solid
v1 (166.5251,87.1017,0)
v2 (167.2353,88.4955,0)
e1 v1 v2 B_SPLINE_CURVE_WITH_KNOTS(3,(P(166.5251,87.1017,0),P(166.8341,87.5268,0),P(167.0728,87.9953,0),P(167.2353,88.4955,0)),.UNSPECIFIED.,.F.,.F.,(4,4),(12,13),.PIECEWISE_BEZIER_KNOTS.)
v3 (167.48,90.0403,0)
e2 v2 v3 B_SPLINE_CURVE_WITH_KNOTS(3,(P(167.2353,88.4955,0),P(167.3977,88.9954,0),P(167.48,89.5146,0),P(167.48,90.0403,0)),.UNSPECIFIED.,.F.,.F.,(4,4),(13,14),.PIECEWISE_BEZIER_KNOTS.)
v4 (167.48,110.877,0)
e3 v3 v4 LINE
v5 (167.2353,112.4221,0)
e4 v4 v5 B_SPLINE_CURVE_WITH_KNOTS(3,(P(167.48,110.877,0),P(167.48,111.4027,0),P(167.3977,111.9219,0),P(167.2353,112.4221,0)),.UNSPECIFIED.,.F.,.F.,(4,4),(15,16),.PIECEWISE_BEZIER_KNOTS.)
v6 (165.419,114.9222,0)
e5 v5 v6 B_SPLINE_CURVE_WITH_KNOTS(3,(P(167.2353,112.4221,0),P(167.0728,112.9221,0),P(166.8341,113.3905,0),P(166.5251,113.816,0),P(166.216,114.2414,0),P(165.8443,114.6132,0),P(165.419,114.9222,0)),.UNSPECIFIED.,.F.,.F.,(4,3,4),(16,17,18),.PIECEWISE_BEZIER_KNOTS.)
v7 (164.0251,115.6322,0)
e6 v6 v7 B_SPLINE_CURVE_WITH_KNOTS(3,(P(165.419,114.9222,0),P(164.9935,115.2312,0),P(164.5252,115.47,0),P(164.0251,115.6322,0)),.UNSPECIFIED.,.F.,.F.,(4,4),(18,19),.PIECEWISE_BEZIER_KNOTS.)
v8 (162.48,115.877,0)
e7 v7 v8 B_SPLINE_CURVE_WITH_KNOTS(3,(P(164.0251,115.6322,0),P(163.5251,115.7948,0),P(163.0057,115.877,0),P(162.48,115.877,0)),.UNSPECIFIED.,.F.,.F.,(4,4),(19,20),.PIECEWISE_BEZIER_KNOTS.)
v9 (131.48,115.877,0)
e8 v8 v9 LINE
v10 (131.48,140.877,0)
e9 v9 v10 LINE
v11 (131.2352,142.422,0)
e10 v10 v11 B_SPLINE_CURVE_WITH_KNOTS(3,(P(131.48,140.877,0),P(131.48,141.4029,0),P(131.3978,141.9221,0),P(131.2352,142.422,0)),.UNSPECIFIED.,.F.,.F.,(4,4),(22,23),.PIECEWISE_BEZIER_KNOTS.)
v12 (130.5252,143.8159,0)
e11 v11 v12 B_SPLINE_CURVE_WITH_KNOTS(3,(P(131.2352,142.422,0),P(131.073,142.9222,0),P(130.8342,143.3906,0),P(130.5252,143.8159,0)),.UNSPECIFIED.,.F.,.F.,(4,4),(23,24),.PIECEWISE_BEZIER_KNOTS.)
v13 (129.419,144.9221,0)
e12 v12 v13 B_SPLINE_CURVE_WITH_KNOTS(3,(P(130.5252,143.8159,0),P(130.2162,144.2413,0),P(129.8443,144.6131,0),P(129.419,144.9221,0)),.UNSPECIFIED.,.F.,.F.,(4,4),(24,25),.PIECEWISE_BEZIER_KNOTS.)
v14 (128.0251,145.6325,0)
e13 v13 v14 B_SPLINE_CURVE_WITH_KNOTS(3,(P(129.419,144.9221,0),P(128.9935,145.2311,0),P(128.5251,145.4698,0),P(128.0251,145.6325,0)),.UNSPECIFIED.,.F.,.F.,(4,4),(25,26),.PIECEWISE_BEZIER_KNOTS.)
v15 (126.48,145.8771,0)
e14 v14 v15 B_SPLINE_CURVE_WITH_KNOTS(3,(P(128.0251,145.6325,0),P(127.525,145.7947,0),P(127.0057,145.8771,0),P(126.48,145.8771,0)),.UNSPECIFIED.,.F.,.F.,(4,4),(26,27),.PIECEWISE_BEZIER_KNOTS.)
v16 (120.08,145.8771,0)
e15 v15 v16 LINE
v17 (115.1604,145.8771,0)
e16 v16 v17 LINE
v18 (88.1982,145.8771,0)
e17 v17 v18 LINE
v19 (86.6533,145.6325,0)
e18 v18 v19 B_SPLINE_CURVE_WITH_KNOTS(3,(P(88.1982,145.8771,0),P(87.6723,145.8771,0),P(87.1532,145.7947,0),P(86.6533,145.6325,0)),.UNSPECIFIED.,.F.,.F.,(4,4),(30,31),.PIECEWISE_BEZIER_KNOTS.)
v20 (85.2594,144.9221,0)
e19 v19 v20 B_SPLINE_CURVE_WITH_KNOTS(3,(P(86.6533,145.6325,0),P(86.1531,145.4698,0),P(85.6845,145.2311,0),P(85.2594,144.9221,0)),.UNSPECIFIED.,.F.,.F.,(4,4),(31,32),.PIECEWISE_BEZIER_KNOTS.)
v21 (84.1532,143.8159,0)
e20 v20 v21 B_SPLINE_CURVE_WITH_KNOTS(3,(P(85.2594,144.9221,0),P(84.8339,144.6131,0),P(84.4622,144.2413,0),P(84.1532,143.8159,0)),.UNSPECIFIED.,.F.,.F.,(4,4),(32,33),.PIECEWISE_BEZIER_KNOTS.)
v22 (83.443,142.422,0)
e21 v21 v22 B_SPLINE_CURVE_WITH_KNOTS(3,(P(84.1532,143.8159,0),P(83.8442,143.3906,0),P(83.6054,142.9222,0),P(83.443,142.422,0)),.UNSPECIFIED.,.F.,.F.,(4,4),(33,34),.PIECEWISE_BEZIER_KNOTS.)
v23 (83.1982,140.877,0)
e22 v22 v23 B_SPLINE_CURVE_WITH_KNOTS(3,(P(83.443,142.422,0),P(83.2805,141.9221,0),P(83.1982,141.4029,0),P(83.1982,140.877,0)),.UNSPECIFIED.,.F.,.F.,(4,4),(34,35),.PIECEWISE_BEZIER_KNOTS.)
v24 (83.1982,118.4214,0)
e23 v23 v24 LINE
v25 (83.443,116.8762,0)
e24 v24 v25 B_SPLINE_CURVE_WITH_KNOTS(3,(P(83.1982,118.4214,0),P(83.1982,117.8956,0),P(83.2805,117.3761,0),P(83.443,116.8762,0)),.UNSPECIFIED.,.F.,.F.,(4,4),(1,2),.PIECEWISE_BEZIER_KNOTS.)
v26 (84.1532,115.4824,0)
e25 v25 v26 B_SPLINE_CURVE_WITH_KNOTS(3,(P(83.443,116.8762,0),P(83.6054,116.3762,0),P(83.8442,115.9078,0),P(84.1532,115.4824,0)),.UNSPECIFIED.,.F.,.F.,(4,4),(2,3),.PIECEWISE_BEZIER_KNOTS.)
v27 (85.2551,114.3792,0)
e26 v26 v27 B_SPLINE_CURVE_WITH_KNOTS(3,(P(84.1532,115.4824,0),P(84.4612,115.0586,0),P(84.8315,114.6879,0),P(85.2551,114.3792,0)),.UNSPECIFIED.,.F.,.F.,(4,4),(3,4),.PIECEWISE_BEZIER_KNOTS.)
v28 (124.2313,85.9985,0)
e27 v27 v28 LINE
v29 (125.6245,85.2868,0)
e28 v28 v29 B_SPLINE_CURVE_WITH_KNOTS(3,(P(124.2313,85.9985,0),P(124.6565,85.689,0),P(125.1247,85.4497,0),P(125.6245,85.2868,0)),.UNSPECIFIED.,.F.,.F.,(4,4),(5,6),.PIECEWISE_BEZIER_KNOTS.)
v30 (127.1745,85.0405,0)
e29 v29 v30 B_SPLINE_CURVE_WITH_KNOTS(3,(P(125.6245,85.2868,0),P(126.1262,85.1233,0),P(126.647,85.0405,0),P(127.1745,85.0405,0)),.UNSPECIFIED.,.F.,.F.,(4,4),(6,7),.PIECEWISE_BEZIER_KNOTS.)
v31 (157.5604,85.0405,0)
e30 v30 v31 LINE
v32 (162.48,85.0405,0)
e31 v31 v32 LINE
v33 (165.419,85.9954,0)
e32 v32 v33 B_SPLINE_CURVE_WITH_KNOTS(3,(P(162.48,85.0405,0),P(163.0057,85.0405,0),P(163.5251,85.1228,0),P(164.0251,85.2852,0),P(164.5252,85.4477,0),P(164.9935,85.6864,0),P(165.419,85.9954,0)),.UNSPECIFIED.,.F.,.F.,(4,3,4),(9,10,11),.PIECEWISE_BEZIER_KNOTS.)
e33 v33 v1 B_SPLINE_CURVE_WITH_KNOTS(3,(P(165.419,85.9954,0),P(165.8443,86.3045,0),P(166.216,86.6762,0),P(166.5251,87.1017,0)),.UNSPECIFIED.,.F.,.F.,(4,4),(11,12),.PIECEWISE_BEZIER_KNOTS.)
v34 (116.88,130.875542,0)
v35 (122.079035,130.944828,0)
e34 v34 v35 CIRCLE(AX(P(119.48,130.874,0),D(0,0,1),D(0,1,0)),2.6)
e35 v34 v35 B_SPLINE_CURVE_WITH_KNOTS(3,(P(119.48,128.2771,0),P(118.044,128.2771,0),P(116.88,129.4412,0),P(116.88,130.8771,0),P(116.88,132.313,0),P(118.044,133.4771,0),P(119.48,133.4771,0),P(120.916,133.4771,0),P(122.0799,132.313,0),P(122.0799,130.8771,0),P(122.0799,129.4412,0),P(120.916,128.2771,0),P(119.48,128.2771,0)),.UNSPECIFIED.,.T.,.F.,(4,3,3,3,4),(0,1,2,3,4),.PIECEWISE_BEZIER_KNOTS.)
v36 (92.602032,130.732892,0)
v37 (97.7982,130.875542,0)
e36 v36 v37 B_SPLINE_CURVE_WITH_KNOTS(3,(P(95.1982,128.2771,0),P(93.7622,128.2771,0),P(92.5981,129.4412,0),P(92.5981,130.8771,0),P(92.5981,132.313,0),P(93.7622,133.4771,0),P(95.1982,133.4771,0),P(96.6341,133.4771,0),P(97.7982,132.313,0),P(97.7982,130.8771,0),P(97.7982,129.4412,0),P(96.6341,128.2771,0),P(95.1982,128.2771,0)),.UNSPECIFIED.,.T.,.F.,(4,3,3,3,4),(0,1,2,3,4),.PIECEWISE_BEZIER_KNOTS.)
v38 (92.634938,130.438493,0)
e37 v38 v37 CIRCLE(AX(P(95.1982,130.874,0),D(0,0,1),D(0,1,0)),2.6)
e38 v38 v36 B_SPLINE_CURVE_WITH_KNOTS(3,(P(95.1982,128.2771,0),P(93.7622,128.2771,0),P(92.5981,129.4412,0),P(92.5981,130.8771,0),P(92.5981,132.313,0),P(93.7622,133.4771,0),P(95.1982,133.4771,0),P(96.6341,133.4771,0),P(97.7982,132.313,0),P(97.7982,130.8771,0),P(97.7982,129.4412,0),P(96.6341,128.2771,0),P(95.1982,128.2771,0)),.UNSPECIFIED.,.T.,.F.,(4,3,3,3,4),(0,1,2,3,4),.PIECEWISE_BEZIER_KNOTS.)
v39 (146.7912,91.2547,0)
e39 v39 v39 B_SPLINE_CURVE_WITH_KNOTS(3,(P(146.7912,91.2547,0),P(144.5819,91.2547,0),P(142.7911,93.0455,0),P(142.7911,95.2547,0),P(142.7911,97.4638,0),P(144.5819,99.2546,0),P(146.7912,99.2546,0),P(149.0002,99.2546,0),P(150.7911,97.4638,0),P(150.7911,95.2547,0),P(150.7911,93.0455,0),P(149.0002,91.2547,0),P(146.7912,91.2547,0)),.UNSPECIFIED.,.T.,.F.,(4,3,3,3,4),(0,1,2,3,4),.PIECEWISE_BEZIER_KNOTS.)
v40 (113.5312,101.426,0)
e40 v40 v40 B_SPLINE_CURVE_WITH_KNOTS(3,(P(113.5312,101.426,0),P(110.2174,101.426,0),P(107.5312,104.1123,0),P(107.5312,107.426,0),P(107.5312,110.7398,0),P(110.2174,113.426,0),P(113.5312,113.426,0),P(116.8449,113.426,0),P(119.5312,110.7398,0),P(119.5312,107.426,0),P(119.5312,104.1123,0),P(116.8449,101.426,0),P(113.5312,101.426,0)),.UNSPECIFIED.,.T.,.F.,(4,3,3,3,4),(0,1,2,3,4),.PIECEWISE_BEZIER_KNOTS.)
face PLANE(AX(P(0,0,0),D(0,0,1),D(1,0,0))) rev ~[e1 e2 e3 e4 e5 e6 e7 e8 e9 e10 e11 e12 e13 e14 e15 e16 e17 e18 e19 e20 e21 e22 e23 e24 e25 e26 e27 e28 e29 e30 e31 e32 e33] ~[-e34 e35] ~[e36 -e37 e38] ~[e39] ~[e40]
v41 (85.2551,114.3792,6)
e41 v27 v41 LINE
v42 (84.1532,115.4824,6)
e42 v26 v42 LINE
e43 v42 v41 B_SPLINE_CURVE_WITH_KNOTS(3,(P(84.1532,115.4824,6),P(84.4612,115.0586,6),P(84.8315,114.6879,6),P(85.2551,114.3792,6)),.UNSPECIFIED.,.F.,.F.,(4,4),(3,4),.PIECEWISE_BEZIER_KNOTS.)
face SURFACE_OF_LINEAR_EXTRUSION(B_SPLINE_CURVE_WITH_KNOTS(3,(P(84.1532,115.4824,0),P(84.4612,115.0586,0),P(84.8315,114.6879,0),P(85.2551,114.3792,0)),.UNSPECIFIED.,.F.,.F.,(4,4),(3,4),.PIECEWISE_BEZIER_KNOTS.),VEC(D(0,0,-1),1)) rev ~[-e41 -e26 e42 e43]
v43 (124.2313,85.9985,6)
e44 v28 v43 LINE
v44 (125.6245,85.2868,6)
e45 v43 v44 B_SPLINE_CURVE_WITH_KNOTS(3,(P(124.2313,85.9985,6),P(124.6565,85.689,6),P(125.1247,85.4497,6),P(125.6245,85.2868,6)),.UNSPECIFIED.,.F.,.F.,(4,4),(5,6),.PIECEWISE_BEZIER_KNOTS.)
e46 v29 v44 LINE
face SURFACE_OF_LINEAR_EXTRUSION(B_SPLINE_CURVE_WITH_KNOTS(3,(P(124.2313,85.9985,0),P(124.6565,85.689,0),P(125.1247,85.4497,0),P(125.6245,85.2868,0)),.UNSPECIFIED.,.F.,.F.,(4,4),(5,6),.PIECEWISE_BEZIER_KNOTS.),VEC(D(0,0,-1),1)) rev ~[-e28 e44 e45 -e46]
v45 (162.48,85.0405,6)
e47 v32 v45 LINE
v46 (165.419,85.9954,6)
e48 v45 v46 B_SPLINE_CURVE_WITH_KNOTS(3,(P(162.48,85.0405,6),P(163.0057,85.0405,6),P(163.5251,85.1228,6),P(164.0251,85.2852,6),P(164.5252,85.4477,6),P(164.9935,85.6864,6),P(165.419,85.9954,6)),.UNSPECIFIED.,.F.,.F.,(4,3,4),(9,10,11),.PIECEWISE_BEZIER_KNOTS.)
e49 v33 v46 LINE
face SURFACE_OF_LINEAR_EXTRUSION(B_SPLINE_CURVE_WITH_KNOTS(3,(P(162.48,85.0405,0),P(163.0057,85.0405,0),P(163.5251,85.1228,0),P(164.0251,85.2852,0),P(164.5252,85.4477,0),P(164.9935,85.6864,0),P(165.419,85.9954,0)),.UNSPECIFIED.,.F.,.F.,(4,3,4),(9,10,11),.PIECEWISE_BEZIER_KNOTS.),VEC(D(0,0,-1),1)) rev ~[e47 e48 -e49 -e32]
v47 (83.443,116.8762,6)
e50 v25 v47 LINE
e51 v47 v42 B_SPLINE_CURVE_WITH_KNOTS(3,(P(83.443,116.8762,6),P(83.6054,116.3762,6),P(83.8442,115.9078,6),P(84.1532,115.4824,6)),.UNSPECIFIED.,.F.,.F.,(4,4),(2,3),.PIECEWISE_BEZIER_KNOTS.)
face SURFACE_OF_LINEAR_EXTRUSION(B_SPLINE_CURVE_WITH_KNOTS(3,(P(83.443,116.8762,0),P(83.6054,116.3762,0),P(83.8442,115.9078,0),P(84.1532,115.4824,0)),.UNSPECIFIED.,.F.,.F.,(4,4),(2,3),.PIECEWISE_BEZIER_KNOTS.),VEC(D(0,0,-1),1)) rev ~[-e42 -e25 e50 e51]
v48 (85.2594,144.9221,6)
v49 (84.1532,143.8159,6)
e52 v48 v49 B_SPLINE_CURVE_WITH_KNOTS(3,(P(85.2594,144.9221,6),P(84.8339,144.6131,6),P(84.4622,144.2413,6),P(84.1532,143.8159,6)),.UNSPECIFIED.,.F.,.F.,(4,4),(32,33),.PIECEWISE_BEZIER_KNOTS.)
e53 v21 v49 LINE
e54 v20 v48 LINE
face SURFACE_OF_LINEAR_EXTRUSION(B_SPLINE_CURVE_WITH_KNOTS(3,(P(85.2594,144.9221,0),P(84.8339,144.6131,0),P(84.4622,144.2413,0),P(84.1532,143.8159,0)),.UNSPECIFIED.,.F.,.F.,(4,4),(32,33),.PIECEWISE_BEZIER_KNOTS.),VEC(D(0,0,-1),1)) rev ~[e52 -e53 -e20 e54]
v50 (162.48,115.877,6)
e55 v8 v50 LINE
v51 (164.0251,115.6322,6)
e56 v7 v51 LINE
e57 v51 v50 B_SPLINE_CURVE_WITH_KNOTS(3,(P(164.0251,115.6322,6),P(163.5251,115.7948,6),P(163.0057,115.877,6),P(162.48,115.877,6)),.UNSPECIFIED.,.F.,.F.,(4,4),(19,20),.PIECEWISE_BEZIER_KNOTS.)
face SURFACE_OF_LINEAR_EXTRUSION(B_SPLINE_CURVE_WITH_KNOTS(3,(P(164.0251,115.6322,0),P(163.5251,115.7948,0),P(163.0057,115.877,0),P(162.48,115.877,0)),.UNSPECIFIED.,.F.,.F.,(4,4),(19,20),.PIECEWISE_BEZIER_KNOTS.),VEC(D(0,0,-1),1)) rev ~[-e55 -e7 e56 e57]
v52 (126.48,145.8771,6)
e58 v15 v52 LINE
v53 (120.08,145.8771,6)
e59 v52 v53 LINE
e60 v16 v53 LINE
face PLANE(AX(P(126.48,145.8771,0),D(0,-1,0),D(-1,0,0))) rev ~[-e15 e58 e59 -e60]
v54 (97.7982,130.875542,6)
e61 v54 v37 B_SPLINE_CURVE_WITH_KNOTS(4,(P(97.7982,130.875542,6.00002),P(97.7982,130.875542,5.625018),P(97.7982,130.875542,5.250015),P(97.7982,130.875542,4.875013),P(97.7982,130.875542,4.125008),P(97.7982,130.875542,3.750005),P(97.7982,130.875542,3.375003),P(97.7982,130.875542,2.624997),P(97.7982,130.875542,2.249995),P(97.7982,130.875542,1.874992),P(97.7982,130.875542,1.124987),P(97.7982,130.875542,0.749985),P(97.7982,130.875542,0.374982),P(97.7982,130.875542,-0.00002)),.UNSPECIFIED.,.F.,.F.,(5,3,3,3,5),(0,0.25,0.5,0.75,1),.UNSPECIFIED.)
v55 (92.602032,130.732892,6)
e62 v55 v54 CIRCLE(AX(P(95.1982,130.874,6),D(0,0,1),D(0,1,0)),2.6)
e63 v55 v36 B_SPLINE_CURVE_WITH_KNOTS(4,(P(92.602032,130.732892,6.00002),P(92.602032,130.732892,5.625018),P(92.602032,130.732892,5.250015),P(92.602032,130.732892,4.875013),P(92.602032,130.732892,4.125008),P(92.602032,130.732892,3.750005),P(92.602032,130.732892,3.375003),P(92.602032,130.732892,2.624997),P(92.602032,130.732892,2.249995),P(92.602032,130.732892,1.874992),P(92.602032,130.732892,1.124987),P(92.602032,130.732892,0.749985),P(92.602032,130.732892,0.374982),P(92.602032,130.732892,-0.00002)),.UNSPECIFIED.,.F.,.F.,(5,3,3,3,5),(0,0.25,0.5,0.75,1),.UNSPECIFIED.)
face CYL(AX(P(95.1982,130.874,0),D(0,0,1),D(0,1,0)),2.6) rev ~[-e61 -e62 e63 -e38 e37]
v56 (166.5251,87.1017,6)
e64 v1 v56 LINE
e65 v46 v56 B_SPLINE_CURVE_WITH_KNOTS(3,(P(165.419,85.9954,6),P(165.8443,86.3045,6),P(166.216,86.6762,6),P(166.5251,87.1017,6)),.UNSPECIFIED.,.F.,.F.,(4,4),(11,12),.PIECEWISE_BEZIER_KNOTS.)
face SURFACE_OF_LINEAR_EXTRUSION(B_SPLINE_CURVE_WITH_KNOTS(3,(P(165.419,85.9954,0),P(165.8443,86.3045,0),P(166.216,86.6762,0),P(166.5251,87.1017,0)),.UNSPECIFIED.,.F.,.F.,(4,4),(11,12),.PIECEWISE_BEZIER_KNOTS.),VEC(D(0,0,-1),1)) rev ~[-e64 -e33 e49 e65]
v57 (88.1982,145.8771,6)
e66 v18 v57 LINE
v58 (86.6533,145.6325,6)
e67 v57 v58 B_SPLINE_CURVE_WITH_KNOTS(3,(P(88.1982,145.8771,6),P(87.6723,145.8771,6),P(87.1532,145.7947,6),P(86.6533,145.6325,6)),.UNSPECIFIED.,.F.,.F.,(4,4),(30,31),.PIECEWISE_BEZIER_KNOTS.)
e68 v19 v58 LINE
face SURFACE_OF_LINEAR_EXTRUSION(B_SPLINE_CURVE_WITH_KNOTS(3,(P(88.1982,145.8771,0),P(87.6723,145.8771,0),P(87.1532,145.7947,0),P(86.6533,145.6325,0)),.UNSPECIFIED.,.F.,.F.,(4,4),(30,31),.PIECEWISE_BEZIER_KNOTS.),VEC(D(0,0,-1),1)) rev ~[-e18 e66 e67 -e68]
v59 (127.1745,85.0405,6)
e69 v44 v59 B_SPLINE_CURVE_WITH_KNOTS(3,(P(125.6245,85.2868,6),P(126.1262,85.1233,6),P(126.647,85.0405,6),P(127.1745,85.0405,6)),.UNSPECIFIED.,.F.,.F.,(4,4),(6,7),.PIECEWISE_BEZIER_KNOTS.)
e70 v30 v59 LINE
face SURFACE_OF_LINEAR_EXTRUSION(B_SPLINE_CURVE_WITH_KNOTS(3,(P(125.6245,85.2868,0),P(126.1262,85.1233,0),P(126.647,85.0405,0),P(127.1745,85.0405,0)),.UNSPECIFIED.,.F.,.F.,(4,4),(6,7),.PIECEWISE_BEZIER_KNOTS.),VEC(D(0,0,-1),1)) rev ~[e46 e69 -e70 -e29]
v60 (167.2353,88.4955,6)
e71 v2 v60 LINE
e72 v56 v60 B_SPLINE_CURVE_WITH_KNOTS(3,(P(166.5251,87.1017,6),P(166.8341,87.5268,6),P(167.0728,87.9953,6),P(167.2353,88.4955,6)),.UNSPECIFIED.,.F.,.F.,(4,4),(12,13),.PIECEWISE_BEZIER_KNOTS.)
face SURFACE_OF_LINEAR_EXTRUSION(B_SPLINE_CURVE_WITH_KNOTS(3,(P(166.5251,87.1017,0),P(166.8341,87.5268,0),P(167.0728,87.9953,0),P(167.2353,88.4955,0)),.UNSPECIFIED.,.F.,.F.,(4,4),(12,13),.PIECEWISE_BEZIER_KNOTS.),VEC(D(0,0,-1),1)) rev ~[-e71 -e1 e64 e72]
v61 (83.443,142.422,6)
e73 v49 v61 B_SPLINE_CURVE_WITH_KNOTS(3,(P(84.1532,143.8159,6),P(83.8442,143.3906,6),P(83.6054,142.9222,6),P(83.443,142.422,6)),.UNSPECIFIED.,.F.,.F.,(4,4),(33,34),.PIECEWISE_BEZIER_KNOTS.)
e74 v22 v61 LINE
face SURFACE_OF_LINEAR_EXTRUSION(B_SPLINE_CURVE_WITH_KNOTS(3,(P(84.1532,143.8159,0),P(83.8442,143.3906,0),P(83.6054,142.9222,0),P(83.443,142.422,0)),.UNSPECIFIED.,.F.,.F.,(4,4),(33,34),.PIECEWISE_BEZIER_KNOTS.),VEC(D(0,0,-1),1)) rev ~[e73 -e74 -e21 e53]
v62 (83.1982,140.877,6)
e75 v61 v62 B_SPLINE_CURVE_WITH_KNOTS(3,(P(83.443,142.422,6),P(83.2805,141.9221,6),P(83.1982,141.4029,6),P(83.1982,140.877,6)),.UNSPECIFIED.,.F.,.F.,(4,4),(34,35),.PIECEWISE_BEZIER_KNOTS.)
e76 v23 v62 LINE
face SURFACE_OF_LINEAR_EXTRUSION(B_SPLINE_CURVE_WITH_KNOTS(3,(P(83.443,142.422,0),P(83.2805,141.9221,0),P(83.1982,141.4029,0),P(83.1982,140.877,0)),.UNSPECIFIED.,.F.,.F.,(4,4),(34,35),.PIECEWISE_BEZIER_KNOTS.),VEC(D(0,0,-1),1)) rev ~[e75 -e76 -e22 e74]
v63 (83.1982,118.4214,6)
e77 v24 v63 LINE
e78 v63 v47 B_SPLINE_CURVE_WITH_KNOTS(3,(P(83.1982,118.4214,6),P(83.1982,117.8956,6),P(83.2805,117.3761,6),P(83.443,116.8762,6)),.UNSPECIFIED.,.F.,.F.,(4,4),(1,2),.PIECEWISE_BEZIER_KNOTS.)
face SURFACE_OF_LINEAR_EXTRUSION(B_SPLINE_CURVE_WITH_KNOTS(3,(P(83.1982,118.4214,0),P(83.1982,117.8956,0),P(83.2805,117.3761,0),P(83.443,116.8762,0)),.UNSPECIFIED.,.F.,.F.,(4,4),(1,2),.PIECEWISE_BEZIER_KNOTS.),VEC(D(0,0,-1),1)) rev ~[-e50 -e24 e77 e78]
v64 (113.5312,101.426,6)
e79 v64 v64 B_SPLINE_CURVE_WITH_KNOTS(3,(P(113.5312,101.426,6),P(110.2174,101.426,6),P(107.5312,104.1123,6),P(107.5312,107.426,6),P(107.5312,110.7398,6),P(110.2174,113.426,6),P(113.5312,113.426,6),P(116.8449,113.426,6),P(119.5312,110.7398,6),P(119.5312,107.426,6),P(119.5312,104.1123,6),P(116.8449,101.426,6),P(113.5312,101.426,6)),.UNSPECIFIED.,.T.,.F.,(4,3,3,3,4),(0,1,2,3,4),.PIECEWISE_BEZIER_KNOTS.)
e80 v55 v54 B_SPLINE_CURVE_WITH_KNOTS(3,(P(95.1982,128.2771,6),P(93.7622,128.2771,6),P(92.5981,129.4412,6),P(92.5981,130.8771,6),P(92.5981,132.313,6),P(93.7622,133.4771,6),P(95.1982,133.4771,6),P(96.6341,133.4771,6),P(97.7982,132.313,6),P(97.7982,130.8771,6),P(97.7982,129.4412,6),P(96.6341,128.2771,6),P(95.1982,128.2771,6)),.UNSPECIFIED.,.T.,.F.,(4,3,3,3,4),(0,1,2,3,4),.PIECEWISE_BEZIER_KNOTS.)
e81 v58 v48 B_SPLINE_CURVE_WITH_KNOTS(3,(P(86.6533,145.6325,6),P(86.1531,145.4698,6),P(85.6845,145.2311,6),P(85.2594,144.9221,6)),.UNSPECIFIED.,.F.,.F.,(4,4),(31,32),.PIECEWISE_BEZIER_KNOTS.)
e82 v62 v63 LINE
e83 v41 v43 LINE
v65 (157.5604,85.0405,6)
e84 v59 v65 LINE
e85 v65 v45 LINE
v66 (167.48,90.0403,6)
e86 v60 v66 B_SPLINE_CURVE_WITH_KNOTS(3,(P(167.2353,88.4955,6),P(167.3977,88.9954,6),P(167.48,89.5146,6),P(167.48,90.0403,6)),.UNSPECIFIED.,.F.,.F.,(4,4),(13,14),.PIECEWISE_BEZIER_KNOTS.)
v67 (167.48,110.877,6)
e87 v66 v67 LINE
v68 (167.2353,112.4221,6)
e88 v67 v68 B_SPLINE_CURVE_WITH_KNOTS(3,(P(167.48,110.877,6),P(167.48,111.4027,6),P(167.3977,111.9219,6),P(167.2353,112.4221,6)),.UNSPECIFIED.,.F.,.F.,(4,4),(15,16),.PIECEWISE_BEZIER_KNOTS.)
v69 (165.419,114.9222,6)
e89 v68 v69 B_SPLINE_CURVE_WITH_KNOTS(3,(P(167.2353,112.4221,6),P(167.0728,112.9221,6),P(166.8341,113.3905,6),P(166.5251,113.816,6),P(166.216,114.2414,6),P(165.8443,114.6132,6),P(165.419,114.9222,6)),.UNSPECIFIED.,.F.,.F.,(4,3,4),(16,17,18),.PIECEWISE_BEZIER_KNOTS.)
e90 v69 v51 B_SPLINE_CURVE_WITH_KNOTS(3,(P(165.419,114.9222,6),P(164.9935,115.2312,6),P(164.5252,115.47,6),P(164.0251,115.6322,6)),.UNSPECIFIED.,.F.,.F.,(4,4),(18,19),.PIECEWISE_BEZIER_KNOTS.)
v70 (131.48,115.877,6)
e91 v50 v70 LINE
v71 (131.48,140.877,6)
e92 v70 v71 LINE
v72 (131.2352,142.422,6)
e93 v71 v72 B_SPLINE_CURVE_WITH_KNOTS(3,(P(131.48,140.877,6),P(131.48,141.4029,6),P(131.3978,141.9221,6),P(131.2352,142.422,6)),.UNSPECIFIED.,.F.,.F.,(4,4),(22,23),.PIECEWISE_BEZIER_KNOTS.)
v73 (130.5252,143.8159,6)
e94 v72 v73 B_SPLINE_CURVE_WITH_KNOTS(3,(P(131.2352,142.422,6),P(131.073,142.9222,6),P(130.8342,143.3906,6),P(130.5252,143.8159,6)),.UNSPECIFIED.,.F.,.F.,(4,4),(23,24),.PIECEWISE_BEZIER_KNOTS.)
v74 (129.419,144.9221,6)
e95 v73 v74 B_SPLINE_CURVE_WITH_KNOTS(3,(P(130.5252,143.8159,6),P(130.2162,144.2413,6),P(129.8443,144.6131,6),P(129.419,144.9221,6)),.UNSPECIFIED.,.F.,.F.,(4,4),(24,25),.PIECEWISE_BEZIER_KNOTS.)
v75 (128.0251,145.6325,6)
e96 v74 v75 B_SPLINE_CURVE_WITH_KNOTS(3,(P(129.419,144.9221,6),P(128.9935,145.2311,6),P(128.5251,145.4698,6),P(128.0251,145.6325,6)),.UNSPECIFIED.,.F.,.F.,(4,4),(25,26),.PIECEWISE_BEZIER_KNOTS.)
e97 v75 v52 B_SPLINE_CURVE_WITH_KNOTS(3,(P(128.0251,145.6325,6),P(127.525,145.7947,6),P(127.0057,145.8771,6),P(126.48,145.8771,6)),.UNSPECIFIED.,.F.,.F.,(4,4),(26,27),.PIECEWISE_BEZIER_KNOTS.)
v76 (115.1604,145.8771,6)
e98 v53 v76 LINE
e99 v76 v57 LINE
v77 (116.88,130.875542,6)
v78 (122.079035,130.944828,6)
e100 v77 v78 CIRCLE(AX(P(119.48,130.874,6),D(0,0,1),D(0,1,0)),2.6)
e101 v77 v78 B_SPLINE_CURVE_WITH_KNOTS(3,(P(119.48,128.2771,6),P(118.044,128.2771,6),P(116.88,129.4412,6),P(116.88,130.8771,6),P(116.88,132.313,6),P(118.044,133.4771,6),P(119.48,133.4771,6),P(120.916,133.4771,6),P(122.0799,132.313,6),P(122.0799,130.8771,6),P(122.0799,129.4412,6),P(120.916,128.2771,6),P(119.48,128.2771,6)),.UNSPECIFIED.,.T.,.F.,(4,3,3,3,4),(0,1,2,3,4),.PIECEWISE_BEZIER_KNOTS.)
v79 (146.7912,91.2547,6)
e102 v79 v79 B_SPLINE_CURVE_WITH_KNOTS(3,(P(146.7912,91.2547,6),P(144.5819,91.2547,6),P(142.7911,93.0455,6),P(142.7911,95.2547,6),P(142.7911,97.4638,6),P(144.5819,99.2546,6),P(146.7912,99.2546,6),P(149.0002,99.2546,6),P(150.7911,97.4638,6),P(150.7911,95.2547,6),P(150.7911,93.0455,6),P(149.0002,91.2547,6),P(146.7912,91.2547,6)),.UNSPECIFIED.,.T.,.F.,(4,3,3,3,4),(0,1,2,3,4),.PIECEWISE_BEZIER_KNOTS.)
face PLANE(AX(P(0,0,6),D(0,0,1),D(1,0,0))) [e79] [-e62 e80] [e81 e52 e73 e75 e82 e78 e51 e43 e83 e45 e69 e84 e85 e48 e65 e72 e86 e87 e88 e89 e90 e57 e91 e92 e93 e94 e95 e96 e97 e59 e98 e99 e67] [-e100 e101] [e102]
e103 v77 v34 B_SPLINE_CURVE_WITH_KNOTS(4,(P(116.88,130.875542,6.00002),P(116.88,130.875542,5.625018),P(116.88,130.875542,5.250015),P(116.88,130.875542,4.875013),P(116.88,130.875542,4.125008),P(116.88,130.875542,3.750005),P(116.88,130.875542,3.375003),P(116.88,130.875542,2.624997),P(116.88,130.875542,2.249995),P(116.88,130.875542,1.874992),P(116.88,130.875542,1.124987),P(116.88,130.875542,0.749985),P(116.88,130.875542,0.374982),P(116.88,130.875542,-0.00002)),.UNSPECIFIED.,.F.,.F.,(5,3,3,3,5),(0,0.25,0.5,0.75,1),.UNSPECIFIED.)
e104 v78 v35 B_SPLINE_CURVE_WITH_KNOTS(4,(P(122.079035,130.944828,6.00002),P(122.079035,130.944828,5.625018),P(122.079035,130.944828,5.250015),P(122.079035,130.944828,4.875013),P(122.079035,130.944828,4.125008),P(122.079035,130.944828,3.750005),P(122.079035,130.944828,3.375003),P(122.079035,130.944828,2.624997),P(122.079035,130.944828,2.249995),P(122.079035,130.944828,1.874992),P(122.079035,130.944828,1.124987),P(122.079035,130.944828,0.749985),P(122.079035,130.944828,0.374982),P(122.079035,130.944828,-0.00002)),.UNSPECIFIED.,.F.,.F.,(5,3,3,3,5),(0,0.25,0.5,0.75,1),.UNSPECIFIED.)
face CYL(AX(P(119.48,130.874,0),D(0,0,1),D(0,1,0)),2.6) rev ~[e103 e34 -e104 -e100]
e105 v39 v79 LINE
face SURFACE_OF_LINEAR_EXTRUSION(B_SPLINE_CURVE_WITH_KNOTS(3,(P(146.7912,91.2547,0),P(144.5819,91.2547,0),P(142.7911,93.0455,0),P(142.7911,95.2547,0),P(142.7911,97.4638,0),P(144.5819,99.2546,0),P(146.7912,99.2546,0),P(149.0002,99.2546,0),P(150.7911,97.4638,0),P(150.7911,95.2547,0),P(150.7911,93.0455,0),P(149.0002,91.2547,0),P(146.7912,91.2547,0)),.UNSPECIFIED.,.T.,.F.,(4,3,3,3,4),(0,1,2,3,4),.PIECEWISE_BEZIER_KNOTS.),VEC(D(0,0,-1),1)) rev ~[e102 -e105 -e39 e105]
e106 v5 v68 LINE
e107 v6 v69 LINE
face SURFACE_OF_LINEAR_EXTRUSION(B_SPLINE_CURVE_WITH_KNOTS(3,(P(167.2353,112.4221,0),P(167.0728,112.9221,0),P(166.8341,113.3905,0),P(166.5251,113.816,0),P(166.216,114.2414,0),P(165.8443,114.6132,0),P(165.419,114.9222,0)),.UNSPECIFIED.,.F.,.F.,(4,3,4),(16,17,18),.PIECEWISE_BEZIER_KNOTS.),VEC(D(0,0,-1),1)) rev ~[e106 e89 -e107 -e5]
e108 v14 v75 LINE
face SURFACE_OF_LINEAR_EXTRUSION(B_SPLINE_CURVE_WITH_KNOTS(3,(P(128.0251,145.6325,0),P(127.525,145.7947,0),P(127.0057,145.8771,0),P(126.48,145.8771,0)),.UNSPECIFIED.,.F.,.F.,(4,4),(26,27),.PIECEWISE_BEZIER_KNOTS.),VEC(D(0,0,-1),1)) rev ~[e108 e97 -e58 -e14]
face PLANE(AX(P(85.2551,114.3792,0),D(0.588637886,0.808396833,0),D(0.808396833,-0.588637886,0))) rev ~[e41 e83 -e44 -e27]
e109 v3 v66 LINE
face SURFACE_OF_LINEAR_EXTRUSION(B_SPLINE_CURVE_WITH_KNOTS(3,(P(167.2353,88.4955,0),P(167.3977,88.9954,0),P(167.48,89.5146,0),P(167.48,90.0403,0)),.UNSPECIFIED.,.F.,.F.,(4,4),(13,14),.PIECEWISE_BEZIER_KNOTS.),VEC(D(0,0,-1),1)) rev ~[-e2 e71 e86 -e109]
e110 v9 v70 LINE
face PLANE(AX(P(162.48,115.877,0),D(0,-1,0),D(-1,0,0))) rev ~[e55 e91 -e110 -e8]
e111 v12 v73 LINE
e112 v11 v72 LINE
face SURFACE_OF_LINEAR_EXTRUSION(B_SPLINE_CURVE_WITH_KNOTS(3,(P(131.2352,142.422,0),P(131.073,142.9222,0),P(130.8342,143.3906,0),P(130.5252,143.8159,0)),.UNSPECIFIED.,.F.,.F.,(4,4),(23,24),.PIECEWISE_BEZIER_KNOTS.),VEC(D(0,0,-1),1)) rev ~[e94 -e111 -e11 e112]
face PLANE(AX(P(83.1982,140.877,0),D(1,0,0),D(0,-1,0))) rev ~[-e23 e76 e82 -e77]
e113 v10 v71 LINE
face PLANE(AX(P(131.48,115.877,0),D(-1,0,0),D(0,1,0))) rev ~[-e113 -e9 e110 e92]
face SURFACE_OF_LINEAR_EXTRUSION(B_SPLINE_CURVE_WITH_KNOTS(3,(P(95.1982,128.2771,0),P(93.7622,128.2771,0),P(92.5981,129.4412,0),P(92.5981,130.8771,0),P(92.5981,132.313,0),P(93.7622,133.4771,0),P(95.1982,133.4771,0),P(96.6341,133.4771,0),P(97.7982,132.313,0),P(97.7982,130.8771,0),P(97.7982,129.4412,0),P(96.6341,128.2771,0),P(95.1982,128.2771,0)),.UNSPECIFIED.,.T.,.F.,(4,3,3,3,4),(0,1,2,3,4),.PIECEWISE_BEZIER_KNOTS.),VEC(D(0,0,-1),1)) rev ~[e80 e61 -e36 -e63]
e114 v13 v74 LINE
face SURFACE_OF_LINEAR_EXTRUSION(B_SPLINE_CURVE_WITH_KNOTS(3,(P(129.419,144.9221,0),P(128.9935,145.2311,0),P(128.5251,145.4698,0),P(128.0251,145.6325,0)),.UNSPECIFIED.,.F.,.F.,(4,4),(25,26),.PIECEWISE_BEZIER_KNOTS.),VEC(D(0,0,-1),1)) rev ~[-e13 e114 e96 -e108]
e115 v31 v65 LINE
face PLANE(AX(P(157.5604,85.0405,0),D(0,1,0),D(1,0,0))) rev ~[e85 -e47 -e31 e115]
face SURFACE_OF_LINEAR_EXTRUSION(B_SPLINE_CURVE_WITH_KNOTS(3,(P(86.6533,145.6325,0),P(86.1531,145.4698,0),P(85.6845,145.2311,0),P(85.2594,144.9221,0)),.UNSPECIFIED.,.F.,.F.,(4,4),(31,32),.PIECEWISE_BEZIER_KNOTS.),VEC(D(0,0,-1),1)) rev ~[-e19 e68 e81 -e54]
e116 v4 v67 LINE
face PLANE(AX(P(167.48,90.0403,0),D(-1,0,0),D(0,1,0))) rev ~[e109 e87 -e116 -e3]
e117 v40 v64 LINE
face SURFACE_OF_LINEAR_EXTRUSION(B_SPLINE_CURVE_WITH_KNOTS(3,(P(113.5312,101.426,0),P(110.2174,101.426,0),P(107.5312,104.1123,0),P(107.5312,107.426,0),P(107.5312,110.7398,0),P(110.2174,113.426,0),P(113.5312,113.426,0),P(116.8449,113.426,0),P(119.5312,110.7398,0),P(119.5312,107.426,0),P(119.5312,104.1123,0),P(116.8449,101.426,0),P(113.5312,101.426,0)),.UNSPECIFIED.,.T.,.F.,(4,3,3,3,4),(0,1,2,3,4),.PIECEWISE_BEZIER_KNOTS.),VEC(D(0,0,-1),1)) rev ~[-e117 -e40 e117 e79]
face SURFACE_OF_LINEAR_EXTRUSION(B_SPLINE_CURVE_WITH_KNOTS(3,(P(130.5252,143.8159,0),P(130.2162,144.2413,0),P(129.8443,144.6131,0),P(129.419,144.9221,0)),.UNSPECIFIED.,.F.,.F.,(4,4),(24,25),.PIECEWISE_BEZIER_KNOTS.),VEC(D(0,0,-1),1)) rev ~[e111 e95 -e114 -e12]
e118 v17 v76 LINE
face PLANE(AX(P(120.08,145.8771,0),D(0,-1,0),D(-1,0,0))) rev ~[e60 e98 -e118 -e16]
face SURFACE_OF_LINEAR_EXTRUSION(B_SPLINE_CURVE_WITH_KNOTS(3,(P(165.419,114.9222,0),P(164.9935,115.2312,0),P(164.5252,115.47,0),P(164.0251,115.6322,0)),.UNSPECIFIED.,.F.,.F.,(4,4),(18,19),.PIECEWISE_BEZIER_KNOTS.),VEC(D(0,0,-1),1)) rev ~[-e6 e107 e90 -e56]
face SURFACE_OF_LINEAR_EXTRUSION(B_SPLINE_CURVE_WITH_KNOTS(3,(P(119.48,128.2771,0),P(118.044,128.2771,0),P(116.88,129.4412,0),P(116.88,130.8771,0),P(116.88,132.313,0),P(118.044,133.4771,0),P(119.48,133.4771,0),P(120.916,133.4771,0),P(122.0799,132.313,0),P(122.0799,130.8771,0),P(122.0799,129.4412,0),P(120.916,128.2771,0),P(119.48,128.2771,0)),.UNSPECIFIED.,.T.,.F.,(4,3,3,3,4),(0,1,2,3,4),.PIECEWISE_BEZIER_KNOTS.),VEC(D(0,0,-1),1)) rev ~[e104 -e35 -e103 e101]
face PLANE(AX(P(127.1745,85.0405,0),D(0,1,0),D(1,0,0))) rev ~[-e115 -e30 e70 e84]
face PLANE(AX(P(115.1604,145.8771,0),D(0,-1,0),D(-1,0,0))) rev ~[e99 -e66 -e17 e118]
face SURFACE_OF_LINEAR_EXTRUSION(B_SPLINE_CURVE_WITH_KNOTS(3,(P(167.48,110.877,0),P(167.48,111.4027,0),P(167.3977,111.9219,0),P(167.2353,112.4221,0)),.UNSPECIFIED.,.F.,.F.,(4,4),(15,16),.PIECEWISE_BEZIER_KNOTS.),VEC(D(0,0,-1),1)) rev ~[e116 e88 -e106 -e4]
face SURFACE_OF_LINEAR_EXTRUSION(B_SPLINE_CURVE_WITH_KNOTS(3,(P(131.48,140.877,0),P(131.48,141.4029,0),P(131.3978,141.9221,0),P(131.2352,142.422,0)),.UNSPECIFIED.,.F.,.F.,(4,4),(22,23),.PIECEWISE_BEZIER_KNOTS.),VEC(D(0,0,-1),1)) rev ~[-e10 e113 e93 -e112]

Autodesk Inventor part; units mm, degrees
ref_plane "YZ Plane" through (0, 0, 0) normal (1, 0, 0) x (0, 1, 0)
ref_plane "XZ Plane" through (0, 0, 0) normal (0, 1, 0) x (-1, 0, 0)
ref_plane "XY Plane" through (0, 0, 0) normal (0, 0, 1) x (1, 0, 0)
sketch "Sketch1" plane through (0, 0, 0) normal (0, 0, 1) x (1, 0, 0)
  line L0 (83.1982, 140.877) -> (83.1982, 118.4214)
  spline S0 degree 3 poles (83.1982, 118.4214) (83.1982, 117.8956) (83.2805, 117.3761) (83.443, 116.8762) knots 1 1 1 1 2 2 2 2
  line L1 (83.1982, 118.4214) -> (83.1982, 117.8956) construction
  line L2 (83.1982, 117.8956) -> (83.2805, 117.3761) construction
  line L3 (83.2805, 117.3761) -> (83.443, 116.8762) construction
  spline S1 degree 3 poles (83.443, 116.8762) (83.6054, 116.3762) (83.8442, 115.9078) (84.1532, 115.4824) knots 2 2 2 2 3 3 3 3
  line L4 (83.443, 116.8762) -> (83.6054, 116.3762) construction
  line L5 (83.6054, 116.3762) -> (83.8442, 115.9078) construction
  line L6 (83.8442, 115.9078) -> (84.1532, 115.4824) construction
  spline S2 degree 3 poles (84.1532, 115.4824) (84.4612, 115.0586) (84.8315, 114.6879) (85.2551, 114.3792) knots 3 3 3 3 4 4 4 4
  line L7 (84.1532, 115.4824) -> (84.4612, 115.0586) construction
  line L8 (84.4612, 115.0586) -> (84.8315, 114.6879) construction
  line L9 (84.8315, 114.6879) -> (85.2551, 114.3792) construction
  line L10 (85.2551, 114.3792) -> (124.2313, 85.9985)
  spline S3 degree 3 poles (124.2313, 85.9985) (124.6565, 85.689) (125.1247, 85.4497) (125.6245, 85.2868) knots 5 5 5 5 6 6 6 6
  line L11 (124.2313, 85.9985) -> (124.6565, 85.689) construction
  line L12 (124.6565, 85.689) -> (125.1247, 85.4497) construction
  line L13 (125.1247, 85.4497) -> (125.6245, 85.2868) construction
  spline S4 degree 3 poles (125.6245, 85.2868) (126.1262, 85.1233) (126.647, 85.0405) (127.1745, 85.0405) knots 6 6 6 6 7 7 7 7
  line L14 (125.6245, 85.2868) -> (126.1262, 85.1233) construction
  line L15 (126.1262, 85.1233) -> (126.647, 85.0405) construction
  line L16 (126.647, 85.0405) -> (127.1745, 85.0405) construction
  line L17 (127.1745, 85.0405) -> (157.5604, 85.0405)
  line L18 (157.5604, 85.0405) -> (162.48, 85.0405)
  spline S5 degree 3 poles (162.48, 85.0405) (163.0057, 85.0405) (163.5251, 85.1228) (164.0251, 85.2852) (164.5252, 85.4477) (164.9935, 85.6864) (165.419, 85.9954) knots 9 9 9 9 10 10 10 11 11 11 11
  line L19 (162.48, 85.0405) -> (163.0057, 85.0405) construction
  line L20 (163.0057, 85.0405) -> (163.5251, 85.1228) construction
  line L21 (163.5251, 85.1228) -> (164.0251, 85.2852) construction
  line L22 (164.0251, 85.2852) -> (164.5252, 85.4477) construction
  line L23 (164.5252, 85.4477) -> (164.9935, 85.6864) construction
  line L24 (164.9935, 85.6864) -> (165.419, 85.9954) construction
  spline S6 degree 3 poles (165.419, 85.9954) (165.8443, 86.3045) (166.216, 86.6762) (166.5251, 87.1017) knots 11 11 11 11 12 12 12 12
  line L25 (165.419, 85.9954) -> (165.8443, 86.3045) construction
  line L26 (165.8443, 86.3045) -> (166.216, 86.6762) construction
  line L27 (166.216, 86.6762) -> (166.5251, 87.1017) construction
  spline S7 degree 3 poles (166.5251, 87.1017) (166.8341, 87.5268) (167.0728, 87.9953) (167.2353, 88.4955) knots 12 12 12 12 13 13 13 13
  line L28 (166.5251, 87.1017) -> (166.8341, 87.5268) construction
  line L29 (166.8341, 87.5268) -> (167.0728, 87.9953) construction
  line L30 (167.0728, 87.9953) -> (167.2353, 88.4955) construction
  spline S8 degree 3 poles (167.2353, 88.4955) (167.3977, 88.9954) (167.48, 89.5146) (167.48, 90.0403) knots 13 13 13 13 14 14 14 14
  line L31 (167.2353, 88.4955) -> (167.3977, 88.9954) construction
  line L32 (167.3977, 88.9954) -> (167.48, 89.5146) construction
  line L33 (167.48, 89.5146) -> (167.48, 90.0403) construction
  line L34 (167.48, 90.0403) -> (167.48, 110.877)
  spline S9 degree 3 poles (167.48, 110.877) (167.48, 111.4027) (167.3977, 111.9219) (167.2353, 112.4221) knots 15 15 15 15 16 16 16 16
  line L35 (167.48, 110.877) -> (167.48, 111.4027) construction
  line L36 (167.48, 111.4027) -> (167.3977, 111.9219) construction
  line L37 (167.3977, 111.9219) -> (167.2353, 112.4221) construction
  spline S10 degree 3 poles (167.2353, 112.4221) (167.0728, 112.9221) (166.8341, 113.3905) (166.5251, 113.816) (166.216, 114.2414) (165.8443, 114.6132) (165.419, 114.9222) knots 16 16 16 16 17 17 17 18 18 18 18
  line L38 (167.2353, 112.4221) -> (167.0728, 112.9221) construction
  line L39 (167.0728, 112.9221) -> (166.8341, 113.3905) construction
  line L40 (166.8341, 113.3905) -> (166.5251, 113.816) construction
  line L41 (166.5251, 113.816) -> (166.216, 114.2414) construction
  line L42 (166.216, 114.2414) -> (165.8443, 114.6132) construction
  line L43 (165.8443, 114.6132) -> (165.419, 114.9222) construction
  spline S11 degree 3 poles (165.419, 114.9222) (164.9935, 115.2312) (164.5252, 115.47) (164.0251, 115.6322) knots 18 18 18 18 19 19 19 19
  line L44 (165.419, 114.9222) -> (164.9935, 115.2312) construction
  line L45 (164.9935, 115.2312) -> (164.5252, 115.47) construction
  line L46 (164.5252, 115.47) -> (164.0251, 115.6322) construction
  spline S12 degree 3 poles (164.0251, 115.6322) (163.5251, 115.7948) (163.0057, 115.877) (162.48, 115.877) knots 19 19 19 19 20 20 20 20
  line L47 (164.0251, 115.6322) -> (163.5251, 115.7948) construction
  line L48 (163.5251, 115.7948) -> (163.0057, 115.877) construction
  line L49 (163.0057, 115.877) -> (162.48, 115.877) construction
  line L50 (162.48, 115.877) -> (131.48, 115.877)
  line L51 (131.48, 115.877) -> (131.48, 140.877)
  spline S13 degree 3 poles (131.48, 140.877) (131.48, 141.4029) (131.3978, 141.9221) (131.2352, 142.422) knots 22 22 22 22 23 23 23 23
  line L52 (131.48, 140.877) -> (131.48, 141.4029) construction
  line L53 (131.48, 141.4029) -> (131.3978, 141.9221) construction
  line L54 (131.3978, 141.9221) -> (131.2352, 142.422) construction
  spline S14 degree 3 poles (131.2352, 142.422) (131.073, 142.9222) (130.8342, 143.3906) (130.5252, 143.8159) knots 23 23 23 23 24 24 24 24
  line L55 (131.2352, 142.422) -> (131.073, 142.9222) construction
  line L56 (131.073, 142.9222) -> (130.8342, 143.3906) construction
  line L57 (130.8342, 143.3906) -> (130.5252, 143.8159) construction
  spline S15 degree 3 poles (130.5252, 143.8159) (130.2162, 144.2413) (129.8443, 144.6131) (129.419, 144.9221) knots 24 24 24 24 25 25 25 25
  line L58 (130.5252, 143.8159) -> (130.2162, 144.2413) construction
  line L59 (130.2162, 144.2413) -> (129.8443, 144.6131) construction
  line L60 (129.8443, 144.6131) -> (129.419, 144.9221) construction
  spline S16 degree 3 poles (129.419, 144.9221) (128.9935, 145.2311) (128.5251, 145.4698) (128.0251, 145.6325) knots 25 25 25 25 26 26 26 26
  line L61 (129.419, 144.9221) -> (128.9935, 145.2311) construction
  line L62 (128.9935, 145.2311) -> (128.5251, 145.4698) construction
  line L63 (128.5251, 145.4698) -> (128.0251, 145.6325) construction
  spline S17 degree 3 poles (128.0251, 145.6325) (127.525, 145.7947) (127.0057, 145.8771) (126.48, 145.8771) knots 26 26 26 26 27 27 27 27
  line L64 (128.0251, 145.6325) -> (127.525, 145.7947) construction
  line L65 (127.525, 145.7947) -> (127.0057, 145.8771) construction
  line L66 (127.0057, 145.8771) -> (126.48, 145.8771) construction
  line L67 (126.48, 145.8771) -> (120.08, 145.8771)
  line L68 (120.08, 145.8771) -> (115.1604, 145.8771)
  line L69 (115.1604, 145.8771) -> (88.1982, 145.8771)
  spline S18 degree 3 poles (88.1982, 145.8771) (87.6723, 145.8771) (87.1532, 145.7947) (86.6533, 145.6325) knots 30 30 30 30 31 31 31 31
  line L70 (88.1982, 145.8771) -> (87.6723, 145.8771) construction
  line L71 (87.6723, 145.8771) -> (87.1532, 145.7947) construction
  line L72 (87.1532, 145.7947) -> (86.6533, 145.6325) construction
  spline S19 degree 3 poles (86.6533, 145.6325) (86.1531, 145.4698) (85.6845, 145.2311) (85.2594, 144.9221) knots 31 31 31 31 32 32 32 32
  line L73 (86.6533, 145.6325) -> (86.1531, 145.4698) construction
  line L74 (86.1531, 145.4698) -> (85.6845, 145.2311) construction
  line L75 (85.6845, 145.2311) -> (85.2594, 144.9221) construction
  spline S20 degree 3 poles (85.2594, 144.9221) (84.8339, 144.6131) (84.4622, 144.2413) (84.1532, 143.8159) knots 32 32 32 32 33 33 33 33
  line L76 (85.2594, 144.9221) -> (84.8339, 144.6131) construction
  line L77 (84.8339, 144.6131) -> (84.4622, 144.2413) construction
  line L78 (84.4622, 144.2413) -> (84.1532, 143.8159) construction
  spline S21 degree 3 poles (84.1532, 143.8159) (83.8442, 143.3906) (83.6054, 142.9222) (83.443, 142.422) knots 33 33 33 33 34 34 34 34
  line L79 (84.1532, 143.8159) -> (83.8442, 143.3906) construction
  line L80 (83.8442, 143.3906) -> (83.6054, 142.9222) construction
  line L81 (83.6054, 142.9222) -> (83.443, 142.422) construction
  spline S22 degree 3 poles (83.443, 142.422) (83.2805, 141.9221) (83.1982, 141.4029) (83.1982, 140.877) knots 34 34 34 34 35 35 35 35
  line L82 (83.443, 142.422) -> (83.2805, 141.9221) construction
  line L83 (83.2805, 141.9221) -> (83.1982, 141.4029) construction
  line L84 (83.1982, 141.4029) -> (83.1982, 140.877) construction
  spline S23 degree 3 poles (146.7912, 91.2547) (144.5819, 91.2547) (142.7911, 93.0455) (142.7911, 95.2547) (142.7911, 97.4638) (144.5819, 99.2546) (146.7912, 99.2546) (149.0002, 99.2546) (150.7911, 97.4638) (150.7911, 95.2547) (150.7911, 93.0455) (149.0002, 91.2547) (146.7912, 91.2547) knots 0 0 0 0 1 1 1 2 2 2 3 3 3 4 4 4 4
  line L85 (146.7912, 91.2547) -> (144.5819, 91.2547) construction
  line L86 (144.5819, 91.2547) -> (142.7911, 93.0455) construction
  line L87 (142.7911, 93.0455) -> (142.7911, 95.2547) construction
  line L88 (142.7911, 95.2547) -> (142.7911, 97.4638) construction
  line L89 (142.7911, 97.4638) -> (144.5819, 99.2546) construction
  line L90 (144.5819, 99.2546) -> (146.7912, 99.2546) construction
  line L91 (146.7912, 99.2546) -> (149.0002, 99.2546) construction
  line L92 (149.0002, 99.2546) -> (150.7911, 97.4638) construction
  line L93 (150.7911, 97.4638) -> (150.7911, 95.2547) construction
  line L94 (150.7911, 95.2547) -> (150.7911, 93.0455) construction
  line L95 (150.7911, 93.0455) -> (149.0002, 91.2547) construction
  line L96 (149.0002, 91.2547) -> (146.7912, 91.2547) construction
  spline S24 degree 3 poles (95.1982, 128.2771) (93.7622, 128.2771) (92.5981, 129.4412) (92.5981, 130.8771) (92.5981, 132.313) (93.7622, 133.4771) (95.1982, 133.4771) (96.6341, 133.4771) (97.7982, 132.313) (97.7982, 130.8771) (97.7982, 129.4412) (96.6341, 128.2771) (95.1982, 128.2771) knots 0 0 0 0 1 1 1 2 2 2 3 3 3 4 4 4 4
  line L97 (95.1982, 128.2771) -> (93.7622, 128.2771) construction
  line L98 (93.7622, 128.2771) -> (92.5981, 129.4412) construction
  line L99 (92.5981, 129.4412) -> (92.5981, 130.8771) construction
  line L100 (92.5981, 130.8771) -> (92.5981, 132.313) construction
  line L101 (92.5981, 132.313) -> (93.7622, 133.4771) construction
  line L102 (93.7622, 133.4771) -> (95.1982, 133.4771) construction
  line L103 (95.1982, 133.4771) -> (96.6341, 133.4771) construction
  line L104 (96.6341, 133.4771) -> (97.7982, 132.313) construction
  line L105 (97.7982, 132.313) -> (97.7982, 130.8771) construction
  line L106 (97.7982, 130.8771) -> (97.7982, 129.4412) construction
  line L107 (97.7982, 129.4412) -> (96.6341, 128.2771) construction
  line L108 (96.6341, 128.2771) -> (95.1982, 128.2771) construction
  spline S25 degree 3 poles (119.48, 128.2771) (118.044, 128.2771) (116.88, 129.4412) (116.88, 130.8771) (116.88, 132.313) (118.044, 133.4771) (119.48, 133.4771) (120.916, 133.4771) (122.0799, 132.313) (122.0799, 130.8771) (122.0799, 129.4412) (120.916, 128.2771) (119.48, 128.2771) knots 0 0 0 0 1 1 1 2 2 2 3 3 3 4 4 4 4
  line L109 (119.48, 128.2771) -> (118.044, 128.2771) construction
  line L110 (118.044, 128.2771) -> (116.88, 129.4412) construction
  line L111 (116.88, 129.4412) -> (116.88, 130.8771) construction
  line L112 (116.88, 130.8771) -> (116.88, 132.313) construction
  line L113 (116.88, 132.313) -> (118.044, 133.4771) construction
  line L114 (118.044, 133.4771) -> (119.48, 133.4771) construction
  line L115 (119.48, 133.4771) -> (120.916, 133.4771) construction
  line L116 (120.916, 133.4771) -> (122.0799, 132.313) construction
  line L117 (122.0799, 132.313) -> (122.0799, 130.8771) construction
  line L118 (122.0799, 130.8771) -> (122.0799, 129.4412) construction
  line L119 (122.0799, 129.4412) -> (120.916, 128.2771) construction
  line L120 (120.916, 128.2771) -> (119.48, 128.2771) construction
  spline S26 degree 3 poles (146.7912, 91.5045) (144.72, 91.5045) (143.0412, 93.1836) (143.0412, 95.2547) (143.0412, 97.3257) (144.72, 99.0045) (146.7912, 99.0045) (148.8622, 99.0045) (150.5412, 97.3257) (150.5412, 95.2547) (150.5412, 93.1836) (148.8622, 91.5045) (146.7912, 91.5045) knots 0 0 0 0 1 1 1 2 2 2 3 3 3 4 4 4 4
  line L121 (146.7912, 91.5045) -> (144.72, 91.5045) construction
  line L122 (144.72, 91.5045) -> (143.0412, 93.1836) construction
  line L123 (143.0412, 93.1836) -> (143.0412, 95.2547) construction
  line L124 (143.0412, 95.2547) -> (143.0412, 97.3257) construction
  line L125 (143.0412, 97.3257) -> (144.72, 99.0045) construction
  line L126 (144.72, 99.0045) -> (146.7912, 99.0045) construction
  line L127 (146.7912, 99.0045) -> (148.8622, 99.0045) construction
  line L128 (148.8622, 99.0045) -> (150.5412, 97.3257) construction
  line L129 (150.5412, 97.3257) -> (150.5412, 95.2547) construction
  line L130 (150.5412, 95.2547) -> (150.5412, 93.1836) construction
  line L131 (150.5412, 93.1836) -> (148.8622, 91.5045) construction
  line L132 (148.8622, 91.5045) -> (146.7912, 91.5045) construction
  spline S27 degree 3 poles (113.5312, 101.426) (110.2174, 101.426) (107.5312, 104.1123) (107.5312, 107.426) (107.5312, 110.7398) (110.2174, 113.426) (113.5312, 113.426) (116.8449, 113.426) (119.5312, 110.7398) (119.5312, 107.426) (119.5312, 104.1123) (116.8449, 101.426) (113.5312, 101.426) knots 0 0 0 0 1 1 1 2 2 2 3 3 3 4 4 4 4
  line L133 (113.5312, 101.426) -> (110.2174, 101.426) construction
  line L134 (110.2174, 101.426) -> (107.5312, 104.1123) construction
  line L135 (107.5312, 104.1123) -> (107.5312, 107.426) construction
  line L136 (107.5312, 107.426) -> (107.5312, 110.7398) construction
  line L137 (107.5312, 110.7398) -> (110.2174, 113.426) construction
  line L138 (110.2174, 113.426) -> (113.5312, 113.426) construction
  line L139 (113.5312, 113.426) -> (116.8449, 113.426) construction
  line L140 (116.8449, 113.426) -> (119.5312, 110.7398) construction
  line L141 (119.5312, 110.7398) -> (119.5312, 107.426) construction
  line L142 (119.5312, 107.426) -> (119.5312, 104.1123) construction
  line L143 (119.5312, 104.1123) -> (116.8449, 101.426) construction
  line L144 (116.8449, 101.426) -> (113.5312, 101.426) construction
  point P0 (0, 0)
extrude "Extrusion1" add sketch "Sketch1" along normal blind 6 contours S22 S21 S20 S19 S18 L69 L68 L67 S17 S16 S15 S14 S13 L51 L50 S12 S11 S10 S9 L34 S8 S7 S6 S5 L18 L17 S4 S3 L10 S2 S1 S0 L0
sketch "Sketch2" plane through (0, 0, 0) normal (0, 0, -1) x (-1, 0, 0)
  line L0 (-83.1982, 140.877) -> (-83.1982, 118.4214) projected
  line L1 (-126.48, 145.8771) -> (-88.1982, 145.8771) projected
  line L2 (-131.48, 115.877) -> (-131.48, 140.877) projected
  line L3 (-162.48, 115.877) -> (-131.48, 115.877) projected
  line L4 (-167.48, 90.0403) -> (-167.48, 110.877) projected
  line L5 (-127.1745, 85.0405) -> (-162.48, 85.0405) projected
  line L6 (-85.2551, 114.3792) -> (-124.2313, 85.9985) projected
  line L7 (-92.5981, 130.874) -> (-97.7982, 130.874)
  line L8 (-116.88, 130.874) -> (-122.0799, 130.874)
  point P0 (0, 0)
  point P1 (-113.5312, 101.426)
  point P2 (-146.7912, 91.2547)
  point P3 (-95.1982, 128.2771)
  point P4 (-119.48, 128.2771)
  point P5 (-83.443, 116.8762)
  point P6 (-83.443, 142.422)
  point P7 (-84.1532, 143.8159)
  point P8 (-85.2594, 144.9221)
  point P9 (-86.6533, 145.6325)
  point P10 (-128.0251, 145.6325)
  point P11 (-129.419, 144.9221)
  point P12 (-130.5252, 143.8159)
  point P13 (-131.2352, 142.422)
  point P14 (-164.0251, 115.6322)
  point P15 (-165.419, 114.9222)
  point P16 (-167.2353, 112.4221)
  point P17 (-167.2353, 88.4955)
  point P18 (-166.5251, 87.1017)
  point P19 (-165.419, 85.9954)
  point P20 (-125.6245, 85.2868)
  point P21 (-84.1532, 115.4824)
  point P22 (-95.1982, 130.874)
  point P23 (-119.48, 130.874)
hole "Hole1" at (95.1982, 130.874, 0) at (119.48, 130.874, 0) direction (0, 0, 1) diameter 5.2 end through all
properties part number "Leadscrew-rod-holder"
